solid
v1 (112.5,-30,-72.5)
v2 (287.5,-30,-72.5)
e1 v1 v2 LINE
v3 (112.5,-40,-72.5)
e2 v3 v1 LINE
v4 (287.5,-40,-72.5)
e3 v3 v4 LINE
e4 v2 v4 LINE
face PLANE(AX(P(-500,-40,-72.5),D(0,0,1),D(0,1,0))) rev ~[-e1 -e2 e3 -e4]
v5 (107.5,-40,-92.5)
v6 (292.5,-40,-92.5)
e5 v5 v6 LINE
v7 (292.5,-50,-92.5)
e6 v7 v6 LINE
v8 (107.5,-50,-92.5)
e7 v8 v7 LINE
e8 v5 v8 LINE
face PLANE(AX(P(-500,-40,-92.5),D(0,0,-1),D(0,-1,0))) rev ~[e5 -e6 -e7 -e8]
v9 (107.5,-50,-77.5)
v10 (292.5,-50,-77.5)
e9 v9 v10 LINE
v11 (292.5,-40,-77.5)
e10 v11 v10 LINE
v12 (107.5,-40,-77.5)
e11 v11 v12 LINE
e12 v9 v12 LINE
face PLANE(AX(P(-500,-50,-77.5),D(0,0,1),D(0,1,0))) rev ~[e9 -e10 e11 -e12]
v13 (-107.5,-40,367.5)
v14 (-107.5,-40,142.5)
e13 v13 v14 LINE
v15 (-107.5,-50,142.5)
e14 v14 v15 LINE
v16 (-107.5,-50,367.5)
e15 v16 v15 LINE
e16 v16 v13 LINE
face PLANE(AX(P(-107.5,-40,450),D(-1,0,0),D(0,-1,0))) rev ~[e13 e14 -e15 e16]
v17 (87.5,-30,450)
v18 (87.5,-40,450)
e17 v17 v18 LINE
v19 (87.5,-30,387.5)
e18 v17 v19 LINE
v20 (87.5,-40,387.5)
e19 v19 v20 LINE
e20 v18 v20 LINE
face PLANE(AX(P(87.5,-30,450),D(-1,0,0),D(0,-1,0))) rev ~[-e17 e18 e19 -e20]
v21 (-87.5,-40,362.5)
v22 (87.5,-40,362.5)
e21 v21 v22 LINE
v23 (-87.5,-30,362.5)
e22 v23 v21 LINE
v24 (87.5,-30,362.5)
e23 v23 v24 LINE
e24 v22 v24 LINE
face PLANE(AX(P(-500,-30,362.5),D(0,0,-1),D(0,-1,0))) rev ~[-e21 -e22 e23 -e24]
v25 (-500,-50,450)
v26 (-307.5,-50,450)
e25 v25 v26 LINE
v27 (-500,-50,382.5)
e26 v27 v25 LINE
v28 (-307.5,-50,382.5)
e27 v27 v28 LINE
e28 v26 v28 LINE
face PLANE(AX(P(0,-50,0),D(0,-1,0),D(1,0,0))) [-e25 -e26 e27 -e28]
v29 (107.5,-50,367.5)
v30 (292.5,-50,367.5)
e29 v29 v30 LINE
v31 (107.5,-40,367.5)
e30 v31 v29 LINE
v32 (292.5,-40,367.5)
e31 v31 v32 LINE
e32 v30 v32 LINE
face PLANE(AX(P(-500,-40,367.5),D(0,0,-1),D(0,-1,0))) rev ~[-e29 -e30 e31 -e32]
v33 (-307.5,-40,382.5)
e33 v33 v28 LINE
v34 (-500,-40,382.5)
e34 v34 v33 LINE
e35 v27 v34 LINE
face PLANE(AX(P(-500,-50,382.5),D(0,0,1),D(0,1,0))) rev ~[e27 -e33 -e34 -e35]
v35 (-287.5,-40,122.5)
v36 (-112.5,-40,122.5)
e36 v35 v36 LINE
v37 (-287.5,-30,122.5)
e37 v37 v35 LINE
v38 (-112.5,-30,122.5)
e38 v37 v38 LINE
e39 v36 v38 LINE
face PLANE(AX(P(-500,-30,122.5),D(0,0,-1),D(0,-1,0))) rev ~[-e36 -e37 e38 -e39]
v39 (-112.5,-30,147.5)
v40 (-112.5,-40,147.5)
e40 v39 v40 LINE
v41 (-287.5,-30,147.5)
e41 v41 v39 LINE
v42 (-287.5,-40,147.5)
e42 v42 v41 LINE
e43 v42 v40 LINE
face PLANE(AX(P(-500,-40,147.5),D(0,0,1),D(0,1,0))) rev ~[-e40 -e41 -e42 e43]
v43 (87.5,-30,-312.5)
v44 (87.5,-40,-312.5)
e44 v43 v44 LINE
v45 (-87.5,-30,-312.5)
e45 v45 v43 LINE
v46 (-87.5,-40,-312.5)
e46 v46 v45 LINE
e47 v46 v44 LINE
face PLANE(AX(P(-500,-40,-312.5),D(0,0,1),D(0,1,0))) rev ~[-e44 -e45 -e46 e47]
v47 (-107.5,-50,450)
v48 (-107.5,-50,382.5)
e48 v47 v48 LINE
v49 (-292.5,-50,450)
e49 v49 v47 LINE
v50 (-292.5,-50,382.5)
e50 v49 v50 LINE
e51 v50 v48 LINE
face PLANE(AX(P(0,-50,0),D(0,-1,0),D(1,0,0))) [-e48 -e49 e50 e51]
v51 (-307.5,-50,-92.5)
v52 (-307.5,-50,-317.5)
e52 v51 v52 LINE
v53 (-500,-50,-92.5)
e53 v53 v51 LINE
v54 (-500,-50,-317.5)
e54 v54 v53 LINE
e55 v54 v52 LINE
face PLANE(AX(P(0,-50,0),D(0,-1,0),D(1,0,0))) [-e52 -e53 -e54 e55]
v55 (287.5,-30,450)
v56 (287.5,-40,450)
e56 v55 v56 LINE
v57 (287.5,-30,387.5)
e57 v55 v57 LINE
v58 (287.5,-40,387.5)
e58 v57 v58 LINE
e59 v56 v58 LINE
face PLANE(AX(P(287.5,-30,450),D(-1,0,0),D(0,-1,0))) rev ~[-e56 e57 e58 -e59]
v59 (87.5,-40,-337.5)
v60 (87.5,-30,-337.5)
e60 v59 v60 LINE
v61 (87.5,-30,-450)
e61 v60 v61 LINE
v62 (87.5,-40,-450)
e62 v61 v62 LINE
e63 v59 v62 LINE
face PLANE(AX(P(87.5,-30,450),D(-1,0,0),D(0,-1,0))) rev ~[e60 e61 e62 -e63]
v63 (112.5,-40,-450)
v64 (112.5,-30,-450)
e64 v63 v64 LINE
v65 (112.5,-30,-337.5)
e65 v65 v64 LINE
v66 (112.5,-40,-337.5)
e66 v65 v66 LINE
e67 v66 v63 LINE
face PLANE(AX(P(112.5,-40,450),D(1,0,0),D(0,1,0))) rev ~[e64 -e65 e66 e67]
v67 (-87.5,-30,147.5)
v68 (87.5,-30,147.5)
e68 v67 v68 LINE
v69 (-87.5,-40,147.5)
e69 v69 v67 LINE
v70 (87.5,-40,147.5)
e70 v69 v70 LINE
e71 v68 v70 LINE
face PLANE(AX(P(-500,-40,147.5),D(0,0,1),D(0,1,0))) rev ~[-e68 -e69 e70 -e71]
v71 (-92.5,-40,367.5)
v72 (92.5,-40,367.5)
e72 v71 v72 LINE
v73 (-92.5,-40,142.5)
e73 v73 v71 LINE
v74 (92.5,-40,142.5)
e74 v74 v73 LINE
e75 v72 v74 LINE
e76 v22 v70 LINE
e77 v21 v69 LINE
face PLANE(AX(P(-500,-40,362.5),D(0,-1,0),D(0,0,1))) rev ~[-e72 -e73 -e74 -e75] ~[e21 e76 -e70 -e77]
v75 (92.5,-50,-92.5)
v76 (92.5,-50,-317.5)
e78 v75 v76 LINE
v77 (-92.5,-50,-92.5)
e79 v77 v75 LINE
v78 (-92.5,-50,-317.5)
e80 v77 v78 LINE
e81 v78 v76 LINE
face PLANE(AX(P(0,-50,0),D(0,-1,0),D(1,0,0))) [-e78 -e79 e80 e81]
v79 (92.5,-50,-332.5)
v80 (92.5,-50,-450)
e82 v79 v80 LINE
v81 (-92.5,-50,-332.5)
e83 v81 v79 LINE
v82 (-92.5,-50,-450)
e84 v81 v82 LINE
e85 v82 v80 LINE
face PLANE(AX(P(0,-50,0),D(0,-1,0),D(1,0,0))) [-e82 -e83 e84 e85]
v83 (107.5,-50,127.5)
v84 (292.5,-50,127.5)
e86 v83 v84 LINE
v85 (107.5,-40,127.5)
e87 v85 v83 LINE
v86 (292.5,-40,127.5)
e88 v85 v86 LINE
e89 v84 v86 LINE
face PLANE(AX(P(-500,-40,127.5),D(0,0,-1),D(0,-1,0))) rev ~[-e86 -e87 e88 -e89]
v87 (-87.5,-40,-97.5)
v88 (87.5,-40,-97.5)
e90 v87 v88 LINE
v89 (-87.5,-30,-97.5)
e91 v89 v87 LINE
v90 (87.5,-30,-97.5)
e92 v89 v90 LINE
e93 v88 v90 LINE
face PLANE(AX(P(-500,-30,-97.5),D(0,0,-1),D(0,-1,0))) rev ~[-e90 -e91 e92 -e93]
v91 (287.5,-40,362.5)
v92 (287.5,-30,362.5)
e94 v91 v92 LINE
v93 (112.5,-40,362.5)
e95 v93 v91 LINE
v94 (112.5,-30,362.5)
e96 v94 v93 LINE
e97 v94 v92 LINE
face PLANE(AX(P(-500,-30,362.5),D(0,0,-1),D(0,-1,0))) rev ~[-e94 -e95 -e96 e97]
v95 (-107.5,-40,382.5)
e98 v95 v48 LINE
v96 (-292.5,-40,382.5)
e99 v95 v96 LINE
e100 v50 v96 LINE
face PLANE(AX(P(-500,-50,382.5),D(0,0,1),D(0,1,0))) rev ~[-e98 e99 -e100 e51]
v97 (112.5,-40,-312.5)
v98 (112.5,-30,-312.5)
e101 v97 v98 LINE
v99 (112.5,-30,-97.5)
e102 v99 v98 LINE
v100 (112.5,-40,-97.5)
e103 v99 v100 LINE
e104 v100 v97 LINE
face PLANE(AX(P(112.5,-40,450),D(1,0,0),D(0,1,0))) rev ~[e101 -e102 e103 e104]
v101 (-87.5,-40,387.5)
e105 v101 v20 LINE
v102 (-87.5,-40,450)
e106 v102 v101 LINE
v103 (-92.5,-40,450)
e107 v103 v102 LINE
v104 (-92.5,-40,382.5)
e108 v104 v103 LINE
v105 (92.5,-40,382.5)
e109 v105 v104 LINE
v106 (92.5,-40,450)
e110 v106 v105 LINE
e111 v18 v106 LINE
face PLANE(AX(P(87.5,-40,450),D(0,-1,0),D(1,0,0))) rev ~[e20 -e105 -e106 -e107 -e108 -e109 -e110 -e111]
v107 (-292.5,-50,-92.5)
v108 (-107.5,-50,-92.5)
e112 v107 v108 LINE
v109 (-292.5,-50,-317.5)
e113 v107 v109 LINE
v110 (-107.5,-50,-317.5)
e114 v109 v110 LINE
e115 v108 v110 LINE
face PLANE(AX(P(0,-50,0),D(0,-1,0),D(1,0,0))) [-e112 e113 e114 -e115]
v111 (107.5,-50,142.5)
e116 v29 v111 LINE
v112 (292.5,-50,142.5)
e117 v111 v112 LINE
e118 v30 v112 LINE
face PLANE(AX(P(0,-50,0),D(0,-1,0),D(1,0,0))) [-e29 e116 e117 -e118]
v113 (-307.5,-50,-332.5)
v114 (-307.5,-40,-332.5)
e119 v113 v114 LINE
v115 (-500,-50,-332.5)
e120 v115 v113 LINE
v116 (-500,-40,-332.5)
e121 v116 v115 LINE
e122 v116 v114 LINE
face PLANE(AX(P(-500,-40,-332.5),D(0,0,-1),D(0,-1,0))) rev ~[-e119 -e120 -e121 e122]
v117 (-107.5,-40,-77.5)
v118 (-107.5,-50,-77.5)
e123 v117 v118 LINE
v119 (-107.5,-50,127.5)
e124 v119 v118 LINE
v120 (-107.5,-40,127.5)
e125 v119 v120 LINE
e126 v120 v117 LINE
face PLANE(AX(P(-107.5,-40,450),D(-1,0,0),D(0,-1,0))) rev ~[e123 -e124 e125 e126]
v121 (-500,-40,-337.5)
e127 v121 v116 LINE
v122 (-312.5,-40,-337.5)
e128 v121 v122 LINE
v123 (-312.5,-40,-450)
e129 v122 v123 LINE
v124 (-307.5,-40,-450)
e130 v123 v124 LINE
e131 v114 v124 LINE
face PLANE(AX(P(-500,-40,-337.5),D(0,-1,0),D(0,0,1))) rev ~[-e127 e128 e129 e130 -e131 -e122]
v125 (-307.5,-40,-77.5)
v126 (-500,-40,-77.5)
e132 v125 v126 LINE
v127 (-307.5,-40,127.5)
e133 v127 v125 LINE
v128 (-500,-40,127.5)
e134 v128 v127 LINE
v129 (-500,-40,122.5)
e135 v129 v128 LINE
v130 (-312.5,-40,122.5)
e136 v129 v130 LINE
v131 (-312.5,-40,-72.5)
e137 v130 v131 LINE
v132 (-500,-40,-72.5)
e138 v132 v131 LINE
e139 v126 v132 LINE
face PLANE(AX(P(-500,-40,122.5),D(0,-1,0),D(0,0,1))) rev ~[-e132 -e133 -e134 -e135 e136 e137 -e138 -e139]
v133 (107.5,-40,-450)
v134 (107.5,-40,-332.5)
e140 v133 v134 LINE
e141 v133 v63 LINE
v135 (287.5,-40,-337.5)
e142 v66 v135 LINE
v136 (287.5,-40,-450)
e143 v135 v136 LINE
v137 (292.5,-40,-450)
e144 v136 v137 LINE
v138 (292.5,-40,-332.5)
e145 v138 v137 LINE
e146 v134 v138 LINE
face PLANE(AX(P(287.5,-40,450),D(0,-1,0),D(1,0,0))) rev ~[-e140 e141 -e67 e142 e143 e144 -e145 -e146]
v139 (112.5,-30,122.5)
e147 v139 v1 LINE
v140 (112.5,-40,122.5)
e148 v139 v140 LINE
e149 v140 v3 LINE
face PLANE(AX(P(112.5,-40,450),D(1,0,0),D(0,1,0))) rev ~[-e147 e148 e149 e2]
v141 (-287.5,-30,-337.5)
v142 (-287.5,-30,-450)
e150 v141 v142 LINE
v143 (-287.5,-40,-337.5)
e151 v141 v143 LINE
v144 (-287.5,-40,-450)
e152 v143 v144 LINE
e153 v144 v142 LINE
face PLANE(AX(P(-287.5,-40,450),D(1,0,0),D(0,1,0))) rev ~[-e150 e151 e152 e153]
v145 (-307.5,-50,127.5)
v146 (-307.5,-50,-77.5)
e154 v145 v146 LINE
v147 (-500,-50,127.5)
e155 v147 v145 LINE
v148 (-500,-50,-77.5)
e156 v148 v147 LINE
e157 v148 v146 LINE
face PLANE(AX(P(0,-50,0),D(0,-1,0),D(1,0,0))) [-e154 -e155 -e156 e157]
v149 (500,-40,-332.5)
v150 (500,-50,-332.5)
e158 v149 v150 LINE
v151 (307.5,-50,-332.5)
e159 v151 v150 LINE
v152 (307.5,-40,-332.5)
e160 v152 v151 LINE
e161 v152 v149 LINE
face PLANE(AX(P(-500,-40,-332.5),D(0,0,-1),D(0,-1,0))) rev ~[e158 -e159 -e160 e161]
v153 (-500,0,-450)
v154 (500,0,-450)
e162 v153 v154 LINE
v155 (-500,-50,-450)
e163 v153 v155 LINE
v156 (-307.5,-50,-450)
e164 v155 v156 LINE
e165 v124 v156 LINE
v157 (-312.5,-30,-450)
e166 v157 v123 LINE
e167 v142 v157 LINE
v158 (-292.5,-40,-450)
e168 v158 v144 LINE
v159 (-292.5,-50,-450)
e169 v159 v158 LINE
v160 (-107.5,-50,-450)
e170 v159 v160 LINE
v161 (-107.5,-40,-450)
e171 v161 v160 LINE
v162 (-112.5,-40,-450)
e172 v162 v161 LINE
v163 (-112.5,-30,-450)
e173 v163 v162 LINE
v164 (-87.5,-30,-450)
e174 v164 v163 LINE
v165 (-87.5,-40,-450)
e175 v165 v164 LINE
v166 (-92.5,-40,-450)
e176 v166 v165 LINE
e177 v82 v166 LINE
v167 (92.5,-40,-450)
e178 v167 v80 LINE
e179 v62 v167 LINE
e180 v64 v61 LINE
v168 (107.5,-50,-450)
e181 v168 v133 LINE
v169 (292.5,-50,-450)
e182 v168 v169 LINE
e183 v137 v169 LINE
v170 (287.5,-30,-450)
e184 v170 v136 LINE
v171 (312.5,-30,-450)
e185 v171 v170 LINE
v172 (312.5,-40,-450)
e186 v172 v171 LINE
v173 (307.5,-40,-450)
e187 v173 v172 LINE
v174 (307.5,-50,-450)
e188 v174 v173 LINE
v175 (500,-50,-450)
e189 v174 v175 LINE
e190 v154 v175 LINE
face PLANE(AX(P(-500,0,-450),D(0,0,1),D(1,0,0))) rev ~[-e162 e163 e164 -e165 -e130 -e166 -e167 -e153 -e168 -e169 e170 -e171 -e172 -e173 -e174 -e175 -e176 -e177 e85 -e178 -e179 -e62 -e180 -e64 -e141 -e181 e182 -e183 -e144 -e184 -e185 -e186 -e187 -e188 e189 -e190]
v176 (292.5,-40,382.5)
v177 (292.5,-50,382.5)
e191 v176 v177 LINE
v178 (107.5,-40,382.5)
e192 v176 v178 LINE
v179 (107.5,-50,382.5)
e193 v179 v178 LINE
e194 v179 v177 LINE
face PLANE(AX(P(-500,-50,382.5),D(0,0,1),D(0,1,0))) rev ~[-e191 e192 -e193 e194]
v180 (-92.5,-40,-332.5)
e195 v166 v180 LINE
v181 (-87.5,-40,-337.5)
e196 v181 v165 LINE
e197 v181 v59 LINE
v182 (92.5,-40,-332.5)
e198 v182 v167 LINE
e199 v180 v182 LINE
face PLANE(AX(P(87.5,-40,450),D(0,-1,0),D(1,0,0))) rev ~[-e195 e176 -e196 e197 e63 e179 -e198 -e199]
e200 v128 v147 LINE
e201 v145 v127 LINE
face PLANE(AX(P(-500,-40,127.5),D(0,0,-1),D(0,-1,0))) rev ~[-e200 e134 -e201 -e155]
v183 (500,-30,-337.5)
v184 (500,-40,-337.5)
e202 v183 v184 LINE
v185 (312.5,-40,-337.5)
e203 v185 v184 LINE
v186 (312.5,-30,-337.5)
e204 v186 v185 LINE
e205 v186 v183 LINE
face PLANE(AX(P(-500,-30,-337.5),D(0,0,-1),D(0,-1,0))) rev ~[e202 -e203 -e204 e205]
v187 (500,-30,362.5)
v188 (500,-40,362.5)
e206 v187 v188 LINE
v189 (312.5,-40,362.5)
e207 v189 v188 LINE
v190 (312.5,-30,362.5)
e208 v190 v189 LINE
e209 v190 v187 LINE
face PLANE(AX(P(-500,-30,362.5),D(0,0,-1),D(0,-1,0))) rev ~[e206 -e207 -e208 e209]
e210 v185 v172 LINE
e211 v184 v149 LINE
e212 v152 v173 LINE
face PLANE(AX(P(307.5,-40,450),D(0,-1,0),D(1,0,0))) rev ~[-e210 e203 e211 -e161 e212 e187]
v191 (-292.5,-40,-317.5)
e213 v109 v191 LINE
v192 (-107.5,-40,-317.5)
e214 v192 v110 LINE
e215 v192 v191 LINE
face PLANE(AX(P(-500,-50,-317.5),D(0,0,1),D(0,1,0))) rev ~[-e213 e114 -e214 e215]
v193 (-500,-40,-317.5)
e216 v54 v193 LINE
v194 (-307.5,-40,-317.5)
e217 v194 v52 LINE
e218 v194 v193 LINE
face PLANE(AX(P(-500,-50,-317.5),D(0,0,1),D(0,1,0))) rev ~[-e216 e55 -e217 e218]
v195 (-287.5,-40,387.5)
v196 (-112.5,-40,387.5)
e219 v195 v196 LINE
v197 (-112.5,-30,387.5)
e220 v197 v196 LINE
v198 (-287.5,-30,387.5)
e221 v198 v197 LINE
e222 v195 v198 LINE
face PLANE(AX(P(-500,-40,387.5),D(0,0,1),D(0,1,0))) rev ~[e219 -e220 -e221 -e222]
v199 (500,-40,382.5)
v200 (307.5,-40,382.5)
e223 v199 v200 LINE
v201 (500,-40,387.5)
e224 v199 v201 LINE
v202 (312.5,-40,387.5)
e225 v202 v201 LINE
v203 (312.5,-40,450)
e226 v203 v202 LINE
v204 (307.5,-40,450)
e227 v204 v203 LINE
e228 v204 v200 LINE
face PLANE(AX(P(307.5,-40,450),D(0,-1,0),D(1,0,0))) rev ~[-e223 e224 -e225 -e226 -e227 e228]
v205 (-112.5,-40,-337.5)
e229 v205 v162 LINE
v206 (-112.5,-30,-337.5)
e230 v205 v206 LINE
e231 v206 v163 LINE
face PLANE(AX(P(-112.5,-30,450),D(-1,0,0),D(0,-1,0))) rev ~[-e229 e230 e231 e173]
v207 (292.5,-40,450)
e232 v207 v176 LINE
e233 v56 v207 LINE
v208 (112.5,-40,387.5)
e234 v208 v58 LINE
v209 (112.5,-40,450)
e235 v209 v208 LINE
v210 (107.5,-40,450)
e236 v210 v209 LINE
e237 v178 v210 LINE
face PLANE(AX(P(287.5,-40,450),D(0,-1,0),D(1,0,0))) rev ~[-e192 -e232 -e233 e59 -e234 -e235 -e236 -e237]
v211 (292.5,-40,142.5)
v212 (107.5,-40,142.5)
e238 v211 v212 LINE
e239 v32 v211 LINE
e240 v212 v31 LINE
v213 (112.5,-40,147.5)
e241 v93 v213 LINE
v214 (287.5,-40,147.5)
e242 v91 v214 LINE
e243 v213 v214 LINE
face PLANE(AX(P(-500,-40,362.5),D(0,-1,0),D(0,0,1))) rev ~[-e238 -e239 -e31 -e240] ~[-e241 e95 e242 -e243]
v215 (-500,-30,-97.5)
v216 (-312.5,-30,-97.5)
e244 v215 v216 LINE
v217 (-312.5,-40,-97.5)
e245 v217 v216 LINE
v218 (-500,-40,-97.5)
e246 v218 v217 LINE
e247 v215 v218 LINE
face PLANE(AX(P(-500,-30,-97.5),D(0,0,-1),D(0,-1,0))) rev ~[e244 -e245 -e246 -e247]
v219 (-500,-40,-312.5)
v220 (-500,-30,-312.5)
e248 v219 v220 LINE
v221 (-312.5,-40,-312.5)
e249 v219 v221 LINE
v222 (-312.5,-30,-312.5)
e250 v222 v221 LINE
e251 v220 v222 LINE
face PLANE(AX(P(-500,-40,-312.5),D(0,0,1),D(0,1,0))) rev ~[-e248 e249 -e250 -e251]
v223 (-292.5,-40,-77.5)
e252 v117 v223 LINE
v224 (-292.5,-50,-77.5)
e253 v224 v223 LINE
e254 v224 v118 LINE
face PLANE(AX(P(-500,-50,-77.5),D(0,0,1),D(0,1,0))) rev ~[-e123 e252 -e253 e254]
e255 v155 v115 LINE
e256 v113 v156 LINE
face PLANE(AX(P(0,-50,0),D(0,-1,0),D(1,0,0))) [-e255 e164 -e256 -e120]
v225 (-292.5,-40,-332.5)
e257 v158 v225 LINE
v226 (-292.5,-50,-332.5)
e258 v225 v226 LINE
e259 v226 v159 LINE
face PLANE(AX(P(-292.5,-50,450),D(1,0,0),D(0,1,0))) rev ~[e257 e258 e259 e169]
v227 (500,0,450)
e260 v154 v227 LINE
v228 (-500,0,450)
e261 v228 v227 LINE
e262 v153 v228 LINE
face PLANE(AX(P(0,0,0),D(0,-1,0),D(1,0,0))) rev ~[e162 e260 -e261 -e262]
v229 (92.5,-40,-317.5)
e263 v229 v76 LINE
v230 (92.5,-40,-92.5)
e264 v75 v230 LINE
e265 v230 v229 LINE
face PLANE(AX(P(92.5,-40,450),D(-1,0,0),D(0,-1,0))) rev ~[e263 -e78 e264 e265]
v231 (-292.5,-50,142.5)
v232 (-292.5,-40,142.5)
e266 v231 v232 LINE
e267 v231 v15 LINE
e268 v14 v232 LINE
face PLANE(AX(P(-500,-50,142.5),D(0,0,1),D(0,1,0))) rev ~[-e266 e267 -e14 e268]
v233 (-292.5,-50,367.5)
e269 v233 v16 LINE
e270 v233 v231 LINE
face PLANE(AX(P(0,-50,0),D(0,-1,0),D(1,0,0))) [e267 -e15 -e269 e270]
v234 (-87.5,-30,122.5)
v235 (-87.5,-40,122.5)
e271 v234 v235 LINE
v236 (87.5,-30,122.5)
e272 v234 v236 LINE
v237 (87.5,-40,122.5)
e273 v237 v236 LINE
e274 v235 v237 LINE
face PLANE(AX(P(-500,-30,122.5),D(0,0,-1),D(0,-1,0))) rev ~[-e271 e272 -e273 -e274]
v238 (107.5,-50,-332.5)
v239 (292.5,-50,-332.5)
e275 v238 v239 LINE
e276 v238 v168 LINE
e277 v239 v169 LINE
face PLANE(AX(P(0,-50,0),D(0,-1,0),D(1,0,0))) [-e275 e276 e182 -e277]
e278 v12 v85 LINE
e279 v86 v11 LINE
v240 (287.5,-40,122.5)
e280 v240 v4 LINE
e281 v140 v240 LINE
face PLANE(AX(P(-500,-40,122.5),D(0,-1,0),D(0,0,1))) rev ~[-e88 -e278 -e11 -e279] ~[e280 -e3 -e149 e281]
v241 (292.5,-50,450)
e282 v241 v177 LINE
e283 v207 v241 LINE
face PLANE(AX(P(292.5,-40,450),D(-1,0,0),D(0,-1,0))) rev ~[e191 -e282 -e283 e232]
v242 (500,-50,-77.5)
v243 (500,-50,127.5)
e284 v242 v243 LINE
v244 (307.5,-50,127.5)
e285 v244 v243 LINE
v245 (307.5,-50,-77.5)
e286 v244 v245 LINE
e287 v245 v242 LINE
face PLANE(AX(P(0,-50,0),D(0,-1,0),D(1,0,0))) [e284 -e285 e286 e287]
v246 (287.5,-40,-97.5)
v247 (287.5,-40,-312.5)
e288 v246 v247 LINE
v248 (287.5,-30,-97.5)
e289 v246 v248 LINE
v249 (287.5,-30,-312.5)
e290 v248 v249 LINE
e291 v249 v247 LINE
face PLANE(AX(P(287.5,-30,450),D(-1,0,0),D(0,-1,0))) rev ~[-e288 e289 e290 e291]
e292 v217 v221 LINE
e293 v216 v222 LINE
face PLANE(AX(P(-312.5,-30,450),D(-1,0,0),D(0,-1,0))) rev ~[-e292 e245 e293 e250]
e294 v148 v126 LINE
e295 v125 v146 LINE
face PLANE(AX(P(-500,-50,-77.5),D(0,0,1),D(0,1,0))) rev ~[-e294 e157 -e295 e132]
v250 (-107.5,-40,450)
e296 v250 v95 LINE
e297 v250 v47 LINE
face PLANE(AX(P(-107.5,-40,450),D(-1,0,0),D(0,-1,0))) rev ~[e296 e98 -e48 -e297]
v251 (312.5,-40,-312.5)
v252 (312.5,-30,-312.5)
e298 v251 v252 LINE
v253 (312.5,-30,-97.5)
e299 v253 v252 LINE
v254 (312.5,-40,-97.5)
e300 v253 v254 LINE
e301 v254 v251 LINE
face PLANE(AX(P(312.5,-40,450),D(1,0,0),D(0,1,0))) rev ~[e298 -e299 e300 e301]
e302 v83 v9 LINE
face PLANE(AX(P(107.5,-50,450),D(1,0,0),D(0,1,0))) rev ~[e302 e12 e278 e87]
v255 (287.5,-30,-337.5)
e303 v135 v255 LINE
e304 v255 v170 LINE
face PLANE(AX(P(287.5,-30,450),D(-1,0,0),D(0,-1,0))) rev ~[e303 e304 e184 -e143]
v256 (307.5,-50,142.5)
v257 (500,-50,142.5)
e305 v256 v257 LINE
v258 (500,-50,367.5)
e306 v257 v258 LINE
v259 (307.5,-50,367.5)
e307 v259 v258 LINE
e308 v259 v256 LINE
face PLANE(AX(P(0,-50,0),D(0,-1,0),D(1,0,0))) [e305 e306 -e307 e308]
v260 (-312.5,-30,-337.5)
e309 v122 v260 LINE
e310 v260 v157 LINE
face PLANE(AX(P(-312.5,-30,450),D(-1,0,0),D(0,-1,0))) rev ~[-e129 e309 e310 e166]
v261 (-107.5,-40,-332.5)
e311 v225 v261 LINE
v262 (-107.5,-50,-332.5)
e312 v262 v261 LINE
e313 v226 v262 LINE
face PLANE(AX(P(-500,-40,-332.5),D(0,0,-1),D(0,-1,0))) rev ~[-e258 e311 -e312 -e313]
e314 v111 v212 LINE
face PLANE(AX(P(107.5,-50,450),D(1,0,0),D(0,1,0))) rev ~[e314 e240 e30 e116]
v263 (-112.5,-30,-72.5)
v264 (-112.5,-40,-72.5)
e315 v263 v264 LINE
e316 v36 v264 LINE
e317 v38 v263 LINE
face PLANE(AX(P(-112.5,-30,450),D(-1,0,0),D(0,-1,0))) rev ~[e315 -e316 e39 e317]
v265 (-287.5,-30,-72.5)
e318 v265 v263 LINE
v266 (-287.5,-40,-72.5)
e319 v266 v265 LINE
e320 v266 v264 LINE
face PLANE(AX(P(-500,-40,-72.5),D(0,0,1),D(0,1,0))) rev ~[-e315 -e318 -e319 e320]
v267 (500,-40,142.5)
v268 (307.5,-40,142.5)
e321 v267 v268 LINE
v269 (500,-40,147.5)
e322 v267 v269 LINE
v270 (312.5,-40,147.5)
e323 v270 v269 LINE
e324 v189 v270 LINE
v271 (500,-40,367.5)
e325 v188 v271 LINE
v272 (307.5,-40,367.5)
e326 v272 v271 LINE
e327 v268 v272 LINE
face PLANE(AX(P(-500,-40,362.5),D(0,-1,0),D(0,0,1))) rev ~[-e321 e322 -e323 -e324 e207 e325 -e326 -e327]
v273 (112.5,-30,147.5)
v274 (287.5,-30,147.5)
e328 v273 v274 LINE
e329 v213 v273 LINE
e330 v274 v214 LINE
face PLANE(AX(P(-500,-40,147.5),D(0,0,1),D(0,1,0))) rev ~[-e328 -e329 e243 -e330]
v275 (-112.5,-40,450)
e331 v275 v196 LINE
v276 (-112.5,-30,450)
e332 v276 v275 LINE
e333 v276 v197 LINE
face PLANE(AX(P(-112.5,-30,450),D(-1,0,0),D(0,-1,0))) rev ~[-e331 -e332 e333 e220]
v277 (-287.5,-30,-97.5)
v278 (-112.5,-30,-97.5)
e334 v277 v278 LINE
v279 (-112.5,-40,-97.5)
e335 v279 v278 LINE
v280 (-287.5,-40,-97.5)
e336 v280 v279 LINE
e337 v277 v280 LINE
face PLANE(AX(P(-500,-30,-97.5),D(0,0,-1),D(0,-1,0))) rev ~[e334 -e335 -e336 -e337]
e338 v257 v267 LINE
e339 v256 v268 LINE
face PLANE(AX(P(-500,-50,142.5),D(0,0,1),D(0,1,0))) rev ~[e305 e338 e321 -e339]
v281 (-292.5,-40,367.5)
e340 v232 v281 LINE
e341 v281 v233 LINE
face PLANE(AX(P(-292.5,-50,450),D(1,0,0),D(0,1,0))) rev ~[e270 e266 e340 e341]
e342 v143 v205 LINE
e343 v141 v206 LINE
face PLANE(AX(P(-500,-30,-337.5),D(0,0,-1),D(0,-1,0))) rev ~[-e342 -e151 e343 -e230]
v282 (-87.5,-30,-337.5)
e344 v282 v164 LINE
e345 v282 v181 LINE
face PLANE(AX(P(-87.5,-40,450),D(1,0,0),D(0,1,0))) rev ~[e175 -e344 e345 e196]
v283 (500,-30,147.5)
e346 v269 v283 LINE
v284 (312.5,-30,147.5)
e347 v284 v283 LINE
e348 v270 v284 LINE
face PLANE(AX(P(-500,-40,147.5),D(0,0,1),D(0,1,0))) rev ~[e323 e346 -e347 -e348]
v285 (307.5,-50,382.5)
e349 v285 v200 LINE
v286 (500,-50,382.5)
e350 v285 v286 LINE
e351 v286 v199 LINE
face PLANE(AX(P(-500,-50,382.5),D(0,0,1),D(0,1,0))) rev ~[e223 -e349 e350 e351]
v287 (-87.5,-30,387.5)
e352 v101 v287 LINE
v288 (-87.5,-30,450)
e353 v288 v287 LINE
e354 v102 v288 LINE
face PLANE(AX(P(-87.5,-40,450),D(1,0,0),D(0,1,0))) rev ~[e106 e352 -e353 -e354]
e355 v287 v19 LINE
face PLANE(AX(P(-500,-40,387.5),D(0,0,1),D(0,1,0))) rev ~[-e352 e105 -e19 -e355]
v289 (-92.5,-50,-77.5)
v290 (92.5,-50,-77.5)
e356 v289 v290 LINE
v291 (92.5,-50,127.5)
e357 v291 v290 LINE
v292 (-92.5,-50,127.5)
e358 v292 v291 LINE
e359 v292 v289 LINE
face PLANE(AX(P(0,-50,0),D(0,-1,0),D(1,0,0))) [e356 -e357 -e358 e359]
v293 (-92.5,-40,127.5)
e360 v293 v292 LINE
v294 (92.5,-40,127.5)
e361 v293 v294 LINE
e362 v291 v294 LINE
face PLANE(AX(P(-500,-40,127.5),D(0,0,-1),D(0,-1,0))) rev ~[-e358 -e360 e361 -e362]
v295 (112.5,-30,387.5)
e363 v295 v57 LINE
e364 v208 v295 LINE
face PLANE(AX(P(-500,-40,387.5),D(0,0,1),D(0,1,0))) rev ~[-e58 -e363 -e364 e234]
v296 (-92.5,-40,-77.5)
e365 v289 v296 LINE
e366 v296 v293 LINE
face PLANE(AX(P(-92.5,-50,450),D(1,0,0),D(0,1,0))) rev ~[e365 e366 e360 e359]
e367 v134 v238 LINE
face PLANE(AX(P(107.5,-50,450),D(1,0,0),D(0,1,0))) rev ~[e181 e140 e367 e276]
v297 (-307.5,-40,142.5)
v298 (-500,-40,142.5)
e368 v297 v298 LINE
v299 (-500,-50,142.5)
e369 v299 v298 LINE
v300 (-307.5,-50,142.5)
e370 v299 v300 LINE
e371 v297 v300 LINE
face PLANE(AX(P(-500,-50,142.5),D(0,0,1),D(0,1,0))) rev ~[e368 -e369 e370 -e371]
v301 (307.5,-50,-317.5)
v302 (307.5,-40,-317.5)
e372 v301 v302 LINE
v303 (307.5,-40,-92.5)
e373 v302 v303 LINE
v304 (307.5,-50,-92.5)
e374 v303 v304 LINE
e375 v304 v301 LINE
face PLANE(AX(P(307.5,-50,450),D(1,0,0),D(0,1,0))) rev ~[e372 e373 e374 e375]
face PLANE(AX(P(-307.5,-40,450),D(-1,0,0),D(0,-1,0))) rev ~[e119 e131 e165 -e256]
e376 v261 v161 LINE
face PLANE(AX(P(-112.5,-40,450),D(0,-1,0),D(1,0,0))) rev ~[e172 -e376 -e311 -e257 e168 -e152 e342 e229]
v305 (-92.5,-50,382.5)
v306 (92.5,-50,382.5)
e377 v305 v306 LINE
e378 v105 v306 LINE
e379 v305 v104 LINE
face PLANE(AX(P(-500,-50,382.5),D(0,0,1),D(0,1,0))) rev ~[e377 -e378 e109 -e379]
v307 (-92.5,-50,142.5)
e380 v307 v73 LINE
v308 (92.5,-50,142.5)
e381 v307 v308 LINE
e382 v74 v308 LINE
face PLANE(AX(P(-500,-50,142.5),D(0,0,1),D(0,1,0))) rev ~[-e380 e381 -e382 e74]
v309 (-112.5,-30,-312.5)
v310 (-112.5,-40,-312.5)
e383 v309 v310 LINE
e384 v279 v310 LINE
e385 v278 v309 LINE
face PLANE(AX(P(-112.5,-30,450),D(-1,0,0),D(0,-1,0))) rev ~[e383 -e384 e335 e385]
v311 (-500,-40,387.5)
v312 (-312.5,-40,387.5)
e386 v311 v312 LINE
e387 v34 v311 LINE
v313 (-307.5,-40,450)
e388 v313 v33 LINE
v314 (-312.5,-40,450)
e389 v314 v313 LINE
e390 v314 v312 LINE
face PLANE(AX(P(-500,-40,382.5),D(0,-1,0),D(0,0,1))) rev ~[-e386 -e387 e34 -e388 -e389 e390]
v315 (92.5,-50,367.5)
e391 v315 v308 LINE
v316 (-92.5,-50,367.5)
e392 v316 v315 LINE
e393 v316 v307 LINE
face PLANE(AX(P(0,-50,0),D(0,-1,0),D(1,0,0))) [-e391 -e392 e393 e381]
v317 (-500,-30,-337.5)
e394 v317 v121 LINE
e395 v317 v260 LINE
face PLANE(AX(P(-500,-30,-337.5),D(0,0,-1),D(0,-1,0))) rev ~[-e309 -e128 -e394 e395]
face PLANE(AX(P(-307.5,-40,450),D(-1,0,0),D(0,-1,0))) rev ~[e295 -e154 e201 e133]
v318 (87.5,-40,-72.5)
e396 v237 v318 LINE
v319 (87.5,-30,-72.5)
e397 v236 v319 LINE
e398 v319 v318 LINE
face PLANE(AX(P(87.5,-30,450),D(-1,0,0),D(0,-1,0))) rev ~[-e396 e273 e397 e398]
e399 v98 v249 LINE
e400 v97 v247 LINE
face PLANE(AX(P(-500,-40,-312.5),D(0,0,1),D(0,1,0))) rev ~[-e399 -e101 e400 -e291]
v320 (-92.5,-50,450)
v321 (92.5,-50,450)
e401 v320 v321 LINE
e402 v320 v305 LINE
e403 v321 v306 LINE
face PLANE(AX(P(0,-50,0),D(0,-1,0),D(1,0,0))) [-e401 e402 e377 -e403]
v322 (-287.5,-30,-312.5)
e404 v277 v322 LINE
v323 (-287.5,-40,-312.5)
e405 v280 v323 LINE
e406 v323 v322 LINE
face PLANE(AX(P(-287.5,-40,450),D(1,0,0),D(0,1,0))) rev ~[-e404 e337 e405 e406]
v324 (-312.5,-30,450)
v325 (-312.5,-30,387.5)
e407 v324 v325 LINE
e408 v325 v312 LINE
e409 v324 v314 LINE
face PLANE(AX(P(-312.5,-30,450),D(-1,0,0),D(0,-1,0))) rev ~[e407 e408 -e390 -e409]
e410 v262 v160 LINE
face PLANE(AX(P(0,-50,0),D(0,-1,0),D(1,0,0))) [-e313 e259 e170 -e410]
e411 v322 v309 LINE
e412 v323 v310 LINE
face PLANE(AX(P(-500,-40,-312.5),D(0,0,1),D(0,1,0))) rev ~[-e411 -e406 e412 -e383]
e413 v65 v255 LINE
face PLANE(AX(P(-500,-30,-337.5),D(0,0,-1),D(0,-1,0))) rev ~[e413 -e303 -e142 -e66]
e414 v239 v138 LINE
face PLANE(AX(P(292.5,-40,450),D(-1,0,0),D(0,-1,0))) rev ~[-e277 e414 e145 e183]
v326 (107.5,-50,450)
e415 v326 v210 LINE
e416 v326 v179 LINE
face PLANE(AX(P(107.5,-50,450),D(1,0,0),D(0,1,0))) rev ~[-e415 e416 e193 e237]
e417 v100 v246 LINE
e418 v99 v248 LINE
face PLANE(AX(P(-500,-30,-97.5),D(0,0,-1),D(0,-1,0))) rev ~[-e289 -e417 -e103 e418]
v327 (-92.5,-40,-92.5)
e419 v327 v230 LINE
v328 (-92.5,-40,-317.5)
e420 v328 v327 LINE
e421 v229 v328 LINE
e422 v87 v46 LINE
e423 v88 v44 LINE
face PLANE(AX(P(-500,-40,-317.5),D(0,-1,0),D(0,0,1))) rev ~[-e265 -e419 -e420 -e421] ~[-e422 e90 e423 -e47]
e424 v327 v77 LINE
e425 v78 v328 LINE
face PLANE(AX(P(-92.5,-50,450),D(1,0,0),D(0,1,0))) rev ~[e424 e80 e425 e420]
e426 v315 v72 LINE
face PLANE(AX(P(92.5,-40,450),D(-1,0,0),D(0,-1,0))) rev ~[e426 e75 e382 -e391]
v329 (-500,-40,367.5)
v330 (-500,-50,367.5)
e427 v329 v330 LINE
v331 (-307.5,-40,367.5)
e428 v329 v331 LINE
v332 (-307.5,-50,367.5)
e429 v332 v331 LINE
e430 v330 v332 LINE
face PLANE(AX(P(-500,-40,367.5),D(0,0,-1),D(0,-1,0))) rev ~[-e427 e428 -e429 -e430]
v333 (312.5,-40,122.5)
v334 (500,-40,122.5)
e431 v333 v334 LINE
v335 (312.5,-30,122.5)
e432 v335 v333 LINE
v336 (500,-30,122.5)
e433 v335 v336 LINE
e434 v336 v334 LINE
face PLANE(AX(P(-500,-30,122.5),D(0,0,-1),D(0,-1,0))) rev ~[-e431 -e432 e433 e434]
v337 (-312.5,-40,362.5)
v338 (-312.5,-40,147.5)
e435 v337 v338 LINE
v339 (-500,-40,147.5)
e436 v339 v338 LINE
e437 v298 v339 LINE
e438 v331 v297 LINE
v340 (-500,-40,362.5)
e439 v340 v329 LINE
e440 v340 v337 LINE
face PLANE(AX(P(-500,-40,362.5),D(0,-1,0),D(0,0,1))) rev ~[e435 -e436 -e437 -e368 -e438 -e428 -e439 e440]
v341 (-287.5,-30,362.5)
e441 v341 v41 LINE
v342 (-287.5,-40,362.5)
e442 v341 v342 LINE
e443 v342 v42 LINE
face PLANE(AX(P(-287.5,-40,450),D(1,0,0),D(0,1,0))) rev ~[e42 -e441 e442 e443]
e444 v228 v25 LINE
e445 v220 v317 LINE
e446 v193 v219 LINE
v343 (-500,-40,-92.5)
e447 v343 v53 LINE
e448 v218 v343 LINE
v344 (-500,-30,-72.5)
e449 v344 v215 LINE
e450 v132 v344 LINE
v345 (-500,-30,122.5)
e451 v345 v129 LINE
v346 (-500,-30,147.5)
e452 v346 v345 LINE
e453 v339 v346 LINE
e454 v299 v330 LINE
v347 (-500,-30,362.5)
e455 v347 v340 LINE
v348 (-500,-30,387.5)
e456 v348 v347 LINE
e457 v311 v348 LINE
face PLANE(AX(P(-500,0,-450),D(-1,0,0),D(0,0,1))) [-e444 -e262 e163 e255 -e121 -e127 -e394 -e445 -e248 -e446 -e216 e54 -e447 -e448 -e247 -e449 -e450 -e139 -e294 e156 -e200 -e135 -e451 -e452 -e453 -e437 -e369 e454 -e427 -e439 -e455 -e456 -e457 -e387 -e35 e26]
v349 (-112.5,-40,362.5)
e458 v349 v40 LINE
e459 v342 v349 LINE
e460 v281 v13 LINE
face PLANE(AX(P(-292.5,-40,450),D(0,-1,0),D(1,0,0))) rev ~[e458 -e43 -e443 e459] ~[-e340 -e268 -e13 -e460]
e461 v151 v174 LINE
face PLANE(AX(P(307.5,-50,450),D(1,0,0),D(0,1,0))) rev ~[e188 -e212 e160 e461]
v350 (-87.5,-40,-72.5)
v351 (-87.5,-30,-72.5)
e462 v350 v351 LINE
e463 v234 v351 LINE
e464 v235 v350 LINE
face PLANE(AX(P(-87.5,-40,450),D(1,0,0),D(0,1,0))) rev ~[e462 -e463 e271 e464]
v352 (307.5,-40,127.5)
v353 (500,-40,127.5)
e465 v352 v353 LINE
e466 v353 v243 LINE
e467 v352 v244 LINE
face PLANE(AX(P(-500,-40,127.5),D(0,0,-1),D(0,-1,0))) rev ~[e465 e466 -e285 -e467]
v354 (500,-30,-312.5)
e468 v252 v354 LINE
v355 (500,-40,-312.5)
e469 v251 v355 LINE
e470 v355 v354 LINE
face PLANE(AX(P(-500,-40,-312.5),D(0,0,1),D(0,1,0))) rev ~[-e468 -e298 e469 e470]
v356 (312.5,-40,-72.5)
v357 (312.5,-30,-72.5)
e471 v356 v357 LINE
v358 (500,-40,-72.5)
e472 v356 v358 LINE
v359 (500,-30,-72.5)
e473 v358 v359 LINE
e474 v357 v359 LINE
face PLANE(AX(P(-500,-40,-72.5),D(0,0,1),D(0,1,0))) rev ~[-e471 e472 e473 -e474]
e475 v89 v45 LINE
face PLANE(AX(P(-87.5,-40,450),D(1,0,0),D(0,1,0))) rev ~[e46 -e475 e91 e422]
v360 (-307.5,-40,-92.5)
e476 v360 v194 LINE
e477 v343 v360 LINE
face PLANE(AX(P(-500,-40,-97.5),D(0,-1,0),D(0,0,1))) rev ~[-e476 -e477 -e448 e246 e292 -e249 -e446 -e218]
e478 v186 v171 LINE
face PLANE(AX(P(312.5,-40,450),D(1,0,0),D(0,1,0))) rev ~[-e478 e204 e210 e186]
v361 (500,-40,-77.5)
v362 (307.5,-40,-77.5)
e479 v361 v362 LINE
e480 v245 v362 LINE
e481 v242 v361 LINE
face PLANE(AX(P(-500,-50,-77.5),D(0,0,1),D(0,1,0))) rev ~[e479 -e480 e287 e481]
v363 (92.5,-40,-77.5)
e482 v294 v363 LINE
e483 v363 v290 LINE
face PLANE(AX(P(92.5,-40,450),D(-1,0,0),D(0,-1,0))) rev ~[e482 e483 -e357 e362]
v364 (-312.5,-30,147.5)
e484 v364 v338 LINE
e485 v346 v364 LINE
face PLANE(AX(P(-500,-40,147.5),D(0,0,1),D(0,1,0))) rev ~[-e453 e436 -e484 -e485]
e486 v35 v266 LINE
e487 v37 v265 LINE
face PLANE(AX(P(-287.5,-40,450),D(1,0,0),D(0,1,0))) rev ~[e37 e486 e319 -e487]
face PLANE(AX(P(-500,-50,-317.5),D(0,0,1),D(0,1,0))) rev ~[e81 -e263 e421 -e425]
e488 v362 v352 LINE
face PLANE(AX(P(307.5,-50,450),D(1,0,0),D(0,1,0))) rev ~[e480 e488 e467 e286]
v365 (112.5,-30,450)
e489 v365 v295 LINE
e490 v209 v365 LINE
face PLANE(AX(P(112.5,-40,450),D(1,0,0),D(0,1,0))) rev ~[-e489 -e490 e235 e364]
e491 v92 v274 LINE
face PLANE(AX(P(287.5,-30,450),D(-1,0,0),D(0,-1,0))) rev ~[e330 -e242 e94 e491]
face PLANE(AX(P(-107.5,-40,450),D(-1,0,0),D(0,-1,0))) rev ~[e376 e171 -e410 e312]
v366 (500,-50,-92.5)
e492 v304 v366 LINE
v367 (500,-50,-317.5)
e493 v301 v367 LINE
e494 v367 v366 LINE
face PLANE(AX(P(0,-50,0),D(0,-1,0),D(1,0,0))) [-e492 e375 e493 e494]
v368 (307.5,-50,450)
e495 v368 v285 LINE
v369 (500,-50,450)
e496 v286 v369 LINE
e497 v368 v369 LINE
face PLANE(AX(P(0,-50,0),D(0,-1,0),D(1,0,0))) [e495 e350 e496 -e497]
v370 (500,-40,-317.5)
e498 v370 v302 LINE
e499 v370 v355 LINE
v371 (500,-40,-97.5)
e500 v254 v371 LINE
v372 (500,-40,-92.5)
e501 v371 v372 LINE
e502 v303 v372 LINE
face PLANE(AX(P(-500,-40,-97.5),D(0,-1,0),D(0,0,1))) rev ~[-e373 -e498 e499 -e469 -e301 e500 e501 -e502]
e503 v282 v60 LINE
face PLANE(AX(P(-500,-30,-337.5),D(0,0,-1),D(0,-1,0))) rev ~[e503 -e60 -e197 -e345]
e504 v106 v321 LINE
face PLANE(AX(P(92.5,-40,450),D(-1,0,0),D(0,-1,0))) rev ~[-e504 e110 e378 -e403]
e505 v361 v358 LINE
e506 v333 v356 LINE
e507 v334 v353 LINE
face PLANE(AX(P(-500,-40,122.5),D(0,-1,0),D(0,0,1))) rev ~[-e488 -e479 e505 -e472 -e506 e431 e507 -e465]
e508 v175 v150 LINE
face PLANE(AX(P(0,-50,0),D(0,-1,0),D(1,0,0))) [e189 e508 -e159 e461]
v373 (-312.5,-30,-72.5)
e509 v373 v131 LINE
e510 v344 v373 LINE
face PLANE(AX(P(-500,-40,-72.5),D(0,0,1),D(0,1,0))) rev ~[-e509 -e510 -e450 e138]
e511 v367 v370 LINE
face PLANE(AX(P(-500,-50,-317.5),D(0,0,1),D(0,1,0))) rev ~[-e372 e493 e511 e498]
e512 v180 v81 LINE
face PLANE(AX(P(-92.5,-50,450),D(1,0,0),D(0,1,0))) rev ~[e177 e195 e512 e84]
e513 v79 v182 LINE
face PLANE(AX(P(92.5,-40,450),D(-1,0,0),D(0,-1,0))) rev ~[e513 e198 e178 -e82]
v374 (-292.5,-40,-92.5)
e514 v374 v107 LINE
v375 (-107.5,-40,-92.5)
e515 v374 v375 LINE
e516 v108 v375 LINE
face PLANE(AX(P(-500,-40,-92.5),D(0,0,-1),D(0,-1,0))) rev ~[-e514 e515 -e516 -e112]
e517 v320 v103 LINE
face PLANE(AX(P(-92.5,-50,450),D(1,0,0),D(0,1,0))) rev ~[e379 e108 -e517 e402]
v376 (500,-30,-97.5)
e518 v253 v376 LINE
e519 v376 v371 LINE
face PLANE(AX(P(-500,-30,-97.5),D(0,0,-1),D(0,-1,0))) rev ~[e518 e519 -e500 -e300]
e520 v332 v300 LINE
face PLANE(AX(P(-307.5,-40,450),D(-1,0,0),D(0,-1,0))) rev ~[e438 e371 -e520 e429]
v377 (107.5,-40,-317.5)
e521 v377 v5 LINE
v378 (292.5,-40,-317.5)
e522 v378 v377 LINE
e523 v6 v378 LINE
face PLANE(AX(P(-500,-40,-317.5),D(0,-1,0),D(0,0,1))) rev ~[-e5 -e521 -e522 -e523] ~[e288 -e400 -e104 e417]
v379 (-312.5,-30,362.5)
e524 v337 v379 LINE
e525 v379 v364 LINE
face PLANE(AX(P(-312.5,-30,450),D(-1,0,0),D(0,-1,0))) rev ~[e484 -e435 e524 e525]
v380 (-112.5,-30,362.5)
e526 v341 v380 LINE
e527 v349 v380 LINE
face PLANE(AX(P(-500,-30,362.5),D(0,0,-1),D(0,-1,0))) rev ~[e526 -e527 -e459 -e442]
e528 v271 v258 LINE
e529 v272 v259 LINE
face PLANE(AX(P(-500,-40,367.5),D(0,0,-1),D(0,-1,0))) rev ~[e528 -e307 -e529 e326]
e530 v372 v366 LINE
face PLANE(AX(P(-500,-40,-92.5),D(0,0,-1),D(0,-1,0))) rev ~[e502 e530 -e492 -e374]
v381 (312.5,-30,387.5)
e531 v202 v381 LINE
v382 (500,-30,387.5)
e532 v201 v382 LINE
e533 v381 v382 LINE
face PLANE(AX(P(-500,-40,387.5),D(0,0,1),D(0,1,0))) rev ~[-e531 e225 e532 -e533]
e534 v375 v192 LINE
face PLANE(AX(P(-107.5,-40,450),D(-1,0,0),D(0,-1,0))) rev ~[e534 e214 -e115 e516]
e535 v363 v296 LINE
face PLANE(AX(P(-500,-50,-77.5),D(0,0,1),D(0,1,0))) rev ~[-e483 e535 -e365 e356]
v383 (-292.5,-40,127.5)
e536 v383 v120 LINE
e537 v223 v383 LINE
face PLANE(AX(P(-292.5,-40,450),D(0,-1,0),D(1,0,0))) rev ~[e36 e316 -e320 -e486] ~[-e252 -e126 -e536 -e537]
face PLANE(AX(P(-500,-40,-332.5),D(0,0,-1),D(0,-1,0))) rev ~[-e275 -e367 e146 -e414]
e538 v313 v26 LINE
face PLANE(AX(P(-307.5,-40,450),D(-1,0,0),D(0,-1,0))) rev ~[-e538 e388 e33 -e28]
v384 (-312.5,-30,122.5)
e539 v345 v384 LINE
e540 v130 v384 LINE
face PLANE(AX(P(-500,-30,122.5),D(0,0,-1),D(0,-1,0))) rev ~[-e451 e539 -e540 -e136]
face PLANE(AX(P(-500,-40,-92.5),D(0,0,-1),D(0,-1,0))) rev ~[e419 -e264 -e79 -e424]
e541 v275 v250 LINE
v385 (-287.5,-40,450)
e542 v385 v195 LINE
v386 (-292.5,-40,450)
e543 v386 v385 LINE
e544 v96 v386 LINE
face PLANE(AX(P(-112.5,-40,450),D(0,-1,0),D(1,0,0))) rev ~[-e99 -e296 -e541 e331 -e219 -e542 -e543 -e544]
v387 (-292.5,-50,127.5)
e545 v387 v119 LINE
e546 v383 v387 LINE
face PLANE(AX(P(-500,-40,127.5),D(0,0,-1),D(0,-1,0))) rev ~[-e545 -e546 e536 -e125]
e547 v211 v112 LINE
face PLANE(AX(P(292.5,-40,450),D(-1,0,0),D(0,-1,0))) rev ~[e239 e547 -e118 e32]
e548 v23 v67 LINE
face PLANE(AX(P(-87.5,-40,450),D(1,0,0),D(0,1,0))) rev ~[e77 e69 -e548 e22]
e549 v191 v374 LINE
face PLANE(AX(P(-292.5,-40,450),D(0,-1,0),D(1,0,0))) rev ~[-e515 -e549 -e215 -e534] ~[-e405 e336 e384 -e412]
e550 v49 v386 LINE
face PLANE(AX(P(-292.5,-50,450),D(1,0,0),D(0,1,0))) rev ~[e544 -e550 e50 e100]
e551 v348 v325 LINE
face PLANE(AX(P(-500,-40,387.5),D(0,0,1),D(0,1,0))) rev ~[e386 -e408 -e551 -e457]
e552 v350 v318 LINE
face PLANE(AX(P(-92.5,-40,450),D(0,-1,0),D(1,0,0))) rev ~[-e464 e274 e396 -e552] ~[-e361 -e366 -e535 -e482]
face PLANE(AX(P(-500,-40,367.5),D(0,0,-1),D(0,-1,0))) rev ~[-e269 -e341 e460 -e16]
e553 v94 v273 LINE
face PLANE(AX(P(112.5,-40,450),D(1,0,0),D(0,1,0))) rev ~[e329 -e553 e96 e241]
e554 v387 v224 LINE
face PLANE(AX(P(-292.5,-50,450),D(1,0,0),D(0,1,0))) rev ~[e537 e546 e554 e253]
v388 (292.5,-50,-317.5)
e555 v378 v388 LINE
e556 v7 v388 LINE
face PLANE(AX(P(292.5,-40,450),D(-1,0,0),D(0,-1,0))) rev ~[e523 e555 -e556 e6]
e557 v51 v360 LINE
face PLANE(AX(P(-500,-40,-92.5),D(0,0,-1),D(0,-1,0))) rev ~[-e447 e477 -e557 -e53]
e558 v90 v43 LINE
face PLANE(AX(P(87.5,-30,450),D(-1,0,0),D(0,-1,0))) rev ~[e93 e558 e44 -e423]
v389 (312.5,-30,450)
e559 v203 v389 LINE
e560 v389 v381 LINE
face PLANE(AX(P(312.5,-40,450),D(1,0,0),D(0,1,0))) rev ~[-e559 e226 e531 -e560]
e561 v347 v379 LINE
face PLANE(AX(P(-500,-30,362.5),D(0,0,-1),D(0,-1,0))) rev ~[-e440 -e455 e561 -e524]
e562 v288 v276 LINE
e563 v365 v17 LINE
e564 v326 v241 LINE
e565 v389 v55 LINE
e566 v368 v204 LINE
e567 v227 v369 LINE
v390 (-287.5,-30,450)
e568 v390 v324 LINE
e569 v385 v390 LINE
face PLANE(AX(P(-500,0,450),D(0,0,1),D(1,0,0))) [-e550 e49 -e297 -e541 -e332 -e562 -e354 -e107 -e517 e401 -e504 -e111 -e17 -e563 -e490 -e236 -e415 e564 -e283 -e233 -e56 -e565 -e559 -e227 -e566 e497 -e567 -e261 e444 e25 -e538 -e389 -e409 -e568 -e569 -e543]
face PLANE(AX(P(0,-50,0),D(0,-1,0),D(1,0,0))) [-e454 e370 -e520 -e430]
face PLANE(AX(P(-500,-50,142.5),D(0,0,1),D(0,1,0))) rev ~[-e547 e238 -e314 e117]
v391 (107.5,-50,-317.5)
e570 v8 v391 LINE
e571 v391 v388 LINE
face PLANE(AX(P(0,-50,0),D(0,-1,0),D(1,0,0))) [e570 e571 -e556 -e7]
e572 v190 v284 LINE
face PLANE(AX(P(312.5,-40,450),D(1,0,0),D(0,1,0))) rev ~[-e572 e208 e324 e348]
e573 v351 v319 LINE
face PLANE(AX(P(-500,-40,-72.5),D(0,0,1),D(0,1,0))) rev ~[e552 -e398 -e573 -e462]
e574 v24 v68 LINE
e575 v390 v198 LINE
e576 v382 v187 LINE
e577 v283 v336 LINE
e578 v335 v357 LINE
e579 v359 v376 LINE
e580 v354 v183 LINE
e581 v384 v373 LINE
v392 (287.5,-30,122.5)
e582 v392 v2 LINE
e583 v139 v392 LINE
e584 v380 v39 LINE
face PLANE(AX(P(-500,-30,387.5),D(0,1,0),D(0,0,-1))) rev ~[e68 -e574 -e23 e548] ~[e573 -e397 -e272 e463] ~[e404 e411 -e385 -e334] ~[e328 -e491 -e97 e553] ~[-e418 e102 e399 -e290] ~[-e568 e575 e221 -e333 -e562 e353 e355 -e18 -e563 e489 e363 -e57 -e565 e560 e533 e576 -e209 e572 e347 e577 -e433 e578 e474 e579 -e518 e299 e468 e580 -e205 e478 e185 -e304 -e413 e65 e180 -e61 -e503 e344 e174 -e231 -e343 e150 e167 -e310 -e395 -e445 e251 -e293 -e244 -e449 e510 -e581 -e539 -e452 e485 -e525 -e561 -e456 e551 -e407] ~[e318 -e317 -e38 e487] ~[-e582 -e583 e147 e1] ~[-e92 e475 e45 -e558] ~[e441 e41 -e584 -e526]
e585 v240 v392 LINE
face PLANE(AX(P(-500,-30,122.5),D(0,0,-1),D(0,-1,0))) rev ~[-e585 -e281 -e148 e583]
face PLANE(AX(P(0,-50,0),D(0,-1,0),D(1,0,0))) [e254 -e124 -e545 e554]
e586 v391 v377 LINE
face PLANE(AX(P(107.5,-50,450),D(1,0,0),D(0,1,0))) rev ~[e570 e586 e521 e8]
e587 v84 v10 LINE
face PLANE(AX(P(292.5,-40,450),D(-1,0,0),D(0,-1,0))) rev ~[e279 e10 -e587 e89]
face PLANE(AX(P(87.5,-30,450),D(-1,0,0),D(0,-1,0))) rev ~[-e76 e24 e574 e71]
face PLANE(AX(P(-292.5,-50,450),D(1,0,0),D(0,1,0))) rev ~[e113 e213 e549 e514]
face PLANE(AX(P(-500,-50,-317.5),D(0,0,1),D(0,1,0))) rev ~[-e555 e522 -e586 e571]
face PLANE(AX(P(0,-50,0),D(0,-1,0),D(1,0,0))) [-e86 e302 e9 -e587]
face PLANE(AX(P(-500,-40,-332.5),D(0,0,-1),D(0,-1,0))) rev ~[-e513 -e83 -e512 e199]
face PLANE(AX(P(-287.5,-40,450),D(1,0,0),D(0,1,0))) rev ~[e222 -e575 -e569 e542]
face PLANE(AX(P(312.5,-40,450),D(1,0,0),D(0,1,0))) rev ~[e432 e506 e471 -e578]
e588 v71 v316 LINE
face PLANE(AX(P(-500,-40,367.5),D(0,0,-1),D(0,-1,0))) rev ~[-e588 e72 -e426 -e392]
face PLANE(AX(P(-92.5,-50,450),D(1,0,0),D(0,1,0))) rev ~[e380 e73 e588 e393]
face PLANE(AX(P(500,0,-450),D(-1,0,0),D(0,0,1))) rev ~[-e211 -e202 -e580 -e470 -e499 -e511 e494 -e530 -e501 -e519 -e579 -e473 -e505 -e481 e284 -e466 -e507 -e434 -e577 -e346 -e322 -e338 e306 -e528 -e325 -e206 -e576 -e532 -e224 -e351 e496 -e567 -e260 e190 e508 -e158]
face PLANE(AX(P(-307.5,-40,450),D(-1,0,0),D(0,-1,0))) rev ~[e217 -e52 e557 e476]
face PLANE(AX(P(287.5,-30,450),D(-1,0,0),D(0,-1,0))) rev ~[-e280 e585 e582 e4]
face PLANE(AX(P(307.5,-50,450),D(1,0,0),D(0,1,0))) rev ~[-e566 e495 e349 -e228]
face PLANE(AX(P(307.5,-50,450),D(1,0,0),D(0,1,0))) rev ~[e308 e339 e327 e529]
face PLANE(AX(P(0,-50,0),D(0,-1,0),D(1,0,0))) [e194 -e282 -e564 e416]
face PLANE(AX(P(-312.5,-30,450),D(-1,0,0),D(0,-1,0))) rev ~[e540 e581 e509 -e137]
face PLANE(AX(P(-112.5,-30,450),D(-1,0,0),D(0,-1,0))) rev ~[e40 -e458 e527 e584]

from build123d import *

# Parameters (mm, degrees)
F0_W     = 1000
F0_H     = 900
F1_DEPTH = 50
F3_DEPTH = 1016
F5_DEPTH = 908


with BuildPart() as f1:
    # F0 (on Front) → F1 (new body)
    with BuildSketch(Plane.XZ):
        Rectangle(F0_W, F0_H)
    extrude(amount=F1_DEPTH)

    # F2 (on face) → F3 (cut)
    with BuildSketch(Plane(origin=(-500, 0, 0), x_dir=(0, -1, 0), z_dir=(-1, 0, 0))):
        Polygon((50, -332.5), (50, -317.5), (40, -317.5), (40, -312.5), (30, -312.5), (30, -337.5), (40, -337.5), (40, -332.5), align=None)
        Polygon((40, -92.5), (50, -92.5), (50, -77.5), (40, -77.5), (40, -72.5), (30, -72.5), (30, -97.5), (40, -97.5), align=None)
        Polygon((40, 127.5), (50, 127.5), (50, 142.5), (40, 142.5), (40, 147.5), (30, 147.5), (30, 122.5), (40, 122.5), align=None)
        Polygon((40, 367.5), (50, 367.5), (50, 382.5), (40, 382.5), (40, 387.5), (30, 387.5), (30, 362.5), (40, 362.5), align=None)
    extrude(amount=-F3_DEPTH, mode=Mode.SUBTRACT)

    # F4 (on face) → F5 (cut)
    with BuildSketch(Plane.XY.offset(450)):
        Polygon((292.5, -50), (307.5, -50), (307.5, -40), (312.5, -40), (312.5, -30), (287.5, -30), (287.5, -40), (292.5, -40), align=None)
        Polygon((92.5, -40), (92.5, -50), (107.5, -50), (107.5, -40), (112.5, -40), (112.5, -30), (87.5, -30), (87.5, -40), align=None)
        Polygon((-107.5, -40), (-107.5, -50), (-92.5, -50), (-92.5, -40), (-87.5, -40), (-87.5, -30), (-112.5, -30), (-112.5, -40), align=None)
        Polygon((-307.5, -40), (-307.5, -50), (-292.5, -50), (-292.5, -40), (-287.5, -40), (-287.5, -30), (-312.5, -30), (-312.5, -40), align=None)
    extrude(amount=-F5_DEPTH, mode=Mode.SUBTRACT)


solid = f1.part
